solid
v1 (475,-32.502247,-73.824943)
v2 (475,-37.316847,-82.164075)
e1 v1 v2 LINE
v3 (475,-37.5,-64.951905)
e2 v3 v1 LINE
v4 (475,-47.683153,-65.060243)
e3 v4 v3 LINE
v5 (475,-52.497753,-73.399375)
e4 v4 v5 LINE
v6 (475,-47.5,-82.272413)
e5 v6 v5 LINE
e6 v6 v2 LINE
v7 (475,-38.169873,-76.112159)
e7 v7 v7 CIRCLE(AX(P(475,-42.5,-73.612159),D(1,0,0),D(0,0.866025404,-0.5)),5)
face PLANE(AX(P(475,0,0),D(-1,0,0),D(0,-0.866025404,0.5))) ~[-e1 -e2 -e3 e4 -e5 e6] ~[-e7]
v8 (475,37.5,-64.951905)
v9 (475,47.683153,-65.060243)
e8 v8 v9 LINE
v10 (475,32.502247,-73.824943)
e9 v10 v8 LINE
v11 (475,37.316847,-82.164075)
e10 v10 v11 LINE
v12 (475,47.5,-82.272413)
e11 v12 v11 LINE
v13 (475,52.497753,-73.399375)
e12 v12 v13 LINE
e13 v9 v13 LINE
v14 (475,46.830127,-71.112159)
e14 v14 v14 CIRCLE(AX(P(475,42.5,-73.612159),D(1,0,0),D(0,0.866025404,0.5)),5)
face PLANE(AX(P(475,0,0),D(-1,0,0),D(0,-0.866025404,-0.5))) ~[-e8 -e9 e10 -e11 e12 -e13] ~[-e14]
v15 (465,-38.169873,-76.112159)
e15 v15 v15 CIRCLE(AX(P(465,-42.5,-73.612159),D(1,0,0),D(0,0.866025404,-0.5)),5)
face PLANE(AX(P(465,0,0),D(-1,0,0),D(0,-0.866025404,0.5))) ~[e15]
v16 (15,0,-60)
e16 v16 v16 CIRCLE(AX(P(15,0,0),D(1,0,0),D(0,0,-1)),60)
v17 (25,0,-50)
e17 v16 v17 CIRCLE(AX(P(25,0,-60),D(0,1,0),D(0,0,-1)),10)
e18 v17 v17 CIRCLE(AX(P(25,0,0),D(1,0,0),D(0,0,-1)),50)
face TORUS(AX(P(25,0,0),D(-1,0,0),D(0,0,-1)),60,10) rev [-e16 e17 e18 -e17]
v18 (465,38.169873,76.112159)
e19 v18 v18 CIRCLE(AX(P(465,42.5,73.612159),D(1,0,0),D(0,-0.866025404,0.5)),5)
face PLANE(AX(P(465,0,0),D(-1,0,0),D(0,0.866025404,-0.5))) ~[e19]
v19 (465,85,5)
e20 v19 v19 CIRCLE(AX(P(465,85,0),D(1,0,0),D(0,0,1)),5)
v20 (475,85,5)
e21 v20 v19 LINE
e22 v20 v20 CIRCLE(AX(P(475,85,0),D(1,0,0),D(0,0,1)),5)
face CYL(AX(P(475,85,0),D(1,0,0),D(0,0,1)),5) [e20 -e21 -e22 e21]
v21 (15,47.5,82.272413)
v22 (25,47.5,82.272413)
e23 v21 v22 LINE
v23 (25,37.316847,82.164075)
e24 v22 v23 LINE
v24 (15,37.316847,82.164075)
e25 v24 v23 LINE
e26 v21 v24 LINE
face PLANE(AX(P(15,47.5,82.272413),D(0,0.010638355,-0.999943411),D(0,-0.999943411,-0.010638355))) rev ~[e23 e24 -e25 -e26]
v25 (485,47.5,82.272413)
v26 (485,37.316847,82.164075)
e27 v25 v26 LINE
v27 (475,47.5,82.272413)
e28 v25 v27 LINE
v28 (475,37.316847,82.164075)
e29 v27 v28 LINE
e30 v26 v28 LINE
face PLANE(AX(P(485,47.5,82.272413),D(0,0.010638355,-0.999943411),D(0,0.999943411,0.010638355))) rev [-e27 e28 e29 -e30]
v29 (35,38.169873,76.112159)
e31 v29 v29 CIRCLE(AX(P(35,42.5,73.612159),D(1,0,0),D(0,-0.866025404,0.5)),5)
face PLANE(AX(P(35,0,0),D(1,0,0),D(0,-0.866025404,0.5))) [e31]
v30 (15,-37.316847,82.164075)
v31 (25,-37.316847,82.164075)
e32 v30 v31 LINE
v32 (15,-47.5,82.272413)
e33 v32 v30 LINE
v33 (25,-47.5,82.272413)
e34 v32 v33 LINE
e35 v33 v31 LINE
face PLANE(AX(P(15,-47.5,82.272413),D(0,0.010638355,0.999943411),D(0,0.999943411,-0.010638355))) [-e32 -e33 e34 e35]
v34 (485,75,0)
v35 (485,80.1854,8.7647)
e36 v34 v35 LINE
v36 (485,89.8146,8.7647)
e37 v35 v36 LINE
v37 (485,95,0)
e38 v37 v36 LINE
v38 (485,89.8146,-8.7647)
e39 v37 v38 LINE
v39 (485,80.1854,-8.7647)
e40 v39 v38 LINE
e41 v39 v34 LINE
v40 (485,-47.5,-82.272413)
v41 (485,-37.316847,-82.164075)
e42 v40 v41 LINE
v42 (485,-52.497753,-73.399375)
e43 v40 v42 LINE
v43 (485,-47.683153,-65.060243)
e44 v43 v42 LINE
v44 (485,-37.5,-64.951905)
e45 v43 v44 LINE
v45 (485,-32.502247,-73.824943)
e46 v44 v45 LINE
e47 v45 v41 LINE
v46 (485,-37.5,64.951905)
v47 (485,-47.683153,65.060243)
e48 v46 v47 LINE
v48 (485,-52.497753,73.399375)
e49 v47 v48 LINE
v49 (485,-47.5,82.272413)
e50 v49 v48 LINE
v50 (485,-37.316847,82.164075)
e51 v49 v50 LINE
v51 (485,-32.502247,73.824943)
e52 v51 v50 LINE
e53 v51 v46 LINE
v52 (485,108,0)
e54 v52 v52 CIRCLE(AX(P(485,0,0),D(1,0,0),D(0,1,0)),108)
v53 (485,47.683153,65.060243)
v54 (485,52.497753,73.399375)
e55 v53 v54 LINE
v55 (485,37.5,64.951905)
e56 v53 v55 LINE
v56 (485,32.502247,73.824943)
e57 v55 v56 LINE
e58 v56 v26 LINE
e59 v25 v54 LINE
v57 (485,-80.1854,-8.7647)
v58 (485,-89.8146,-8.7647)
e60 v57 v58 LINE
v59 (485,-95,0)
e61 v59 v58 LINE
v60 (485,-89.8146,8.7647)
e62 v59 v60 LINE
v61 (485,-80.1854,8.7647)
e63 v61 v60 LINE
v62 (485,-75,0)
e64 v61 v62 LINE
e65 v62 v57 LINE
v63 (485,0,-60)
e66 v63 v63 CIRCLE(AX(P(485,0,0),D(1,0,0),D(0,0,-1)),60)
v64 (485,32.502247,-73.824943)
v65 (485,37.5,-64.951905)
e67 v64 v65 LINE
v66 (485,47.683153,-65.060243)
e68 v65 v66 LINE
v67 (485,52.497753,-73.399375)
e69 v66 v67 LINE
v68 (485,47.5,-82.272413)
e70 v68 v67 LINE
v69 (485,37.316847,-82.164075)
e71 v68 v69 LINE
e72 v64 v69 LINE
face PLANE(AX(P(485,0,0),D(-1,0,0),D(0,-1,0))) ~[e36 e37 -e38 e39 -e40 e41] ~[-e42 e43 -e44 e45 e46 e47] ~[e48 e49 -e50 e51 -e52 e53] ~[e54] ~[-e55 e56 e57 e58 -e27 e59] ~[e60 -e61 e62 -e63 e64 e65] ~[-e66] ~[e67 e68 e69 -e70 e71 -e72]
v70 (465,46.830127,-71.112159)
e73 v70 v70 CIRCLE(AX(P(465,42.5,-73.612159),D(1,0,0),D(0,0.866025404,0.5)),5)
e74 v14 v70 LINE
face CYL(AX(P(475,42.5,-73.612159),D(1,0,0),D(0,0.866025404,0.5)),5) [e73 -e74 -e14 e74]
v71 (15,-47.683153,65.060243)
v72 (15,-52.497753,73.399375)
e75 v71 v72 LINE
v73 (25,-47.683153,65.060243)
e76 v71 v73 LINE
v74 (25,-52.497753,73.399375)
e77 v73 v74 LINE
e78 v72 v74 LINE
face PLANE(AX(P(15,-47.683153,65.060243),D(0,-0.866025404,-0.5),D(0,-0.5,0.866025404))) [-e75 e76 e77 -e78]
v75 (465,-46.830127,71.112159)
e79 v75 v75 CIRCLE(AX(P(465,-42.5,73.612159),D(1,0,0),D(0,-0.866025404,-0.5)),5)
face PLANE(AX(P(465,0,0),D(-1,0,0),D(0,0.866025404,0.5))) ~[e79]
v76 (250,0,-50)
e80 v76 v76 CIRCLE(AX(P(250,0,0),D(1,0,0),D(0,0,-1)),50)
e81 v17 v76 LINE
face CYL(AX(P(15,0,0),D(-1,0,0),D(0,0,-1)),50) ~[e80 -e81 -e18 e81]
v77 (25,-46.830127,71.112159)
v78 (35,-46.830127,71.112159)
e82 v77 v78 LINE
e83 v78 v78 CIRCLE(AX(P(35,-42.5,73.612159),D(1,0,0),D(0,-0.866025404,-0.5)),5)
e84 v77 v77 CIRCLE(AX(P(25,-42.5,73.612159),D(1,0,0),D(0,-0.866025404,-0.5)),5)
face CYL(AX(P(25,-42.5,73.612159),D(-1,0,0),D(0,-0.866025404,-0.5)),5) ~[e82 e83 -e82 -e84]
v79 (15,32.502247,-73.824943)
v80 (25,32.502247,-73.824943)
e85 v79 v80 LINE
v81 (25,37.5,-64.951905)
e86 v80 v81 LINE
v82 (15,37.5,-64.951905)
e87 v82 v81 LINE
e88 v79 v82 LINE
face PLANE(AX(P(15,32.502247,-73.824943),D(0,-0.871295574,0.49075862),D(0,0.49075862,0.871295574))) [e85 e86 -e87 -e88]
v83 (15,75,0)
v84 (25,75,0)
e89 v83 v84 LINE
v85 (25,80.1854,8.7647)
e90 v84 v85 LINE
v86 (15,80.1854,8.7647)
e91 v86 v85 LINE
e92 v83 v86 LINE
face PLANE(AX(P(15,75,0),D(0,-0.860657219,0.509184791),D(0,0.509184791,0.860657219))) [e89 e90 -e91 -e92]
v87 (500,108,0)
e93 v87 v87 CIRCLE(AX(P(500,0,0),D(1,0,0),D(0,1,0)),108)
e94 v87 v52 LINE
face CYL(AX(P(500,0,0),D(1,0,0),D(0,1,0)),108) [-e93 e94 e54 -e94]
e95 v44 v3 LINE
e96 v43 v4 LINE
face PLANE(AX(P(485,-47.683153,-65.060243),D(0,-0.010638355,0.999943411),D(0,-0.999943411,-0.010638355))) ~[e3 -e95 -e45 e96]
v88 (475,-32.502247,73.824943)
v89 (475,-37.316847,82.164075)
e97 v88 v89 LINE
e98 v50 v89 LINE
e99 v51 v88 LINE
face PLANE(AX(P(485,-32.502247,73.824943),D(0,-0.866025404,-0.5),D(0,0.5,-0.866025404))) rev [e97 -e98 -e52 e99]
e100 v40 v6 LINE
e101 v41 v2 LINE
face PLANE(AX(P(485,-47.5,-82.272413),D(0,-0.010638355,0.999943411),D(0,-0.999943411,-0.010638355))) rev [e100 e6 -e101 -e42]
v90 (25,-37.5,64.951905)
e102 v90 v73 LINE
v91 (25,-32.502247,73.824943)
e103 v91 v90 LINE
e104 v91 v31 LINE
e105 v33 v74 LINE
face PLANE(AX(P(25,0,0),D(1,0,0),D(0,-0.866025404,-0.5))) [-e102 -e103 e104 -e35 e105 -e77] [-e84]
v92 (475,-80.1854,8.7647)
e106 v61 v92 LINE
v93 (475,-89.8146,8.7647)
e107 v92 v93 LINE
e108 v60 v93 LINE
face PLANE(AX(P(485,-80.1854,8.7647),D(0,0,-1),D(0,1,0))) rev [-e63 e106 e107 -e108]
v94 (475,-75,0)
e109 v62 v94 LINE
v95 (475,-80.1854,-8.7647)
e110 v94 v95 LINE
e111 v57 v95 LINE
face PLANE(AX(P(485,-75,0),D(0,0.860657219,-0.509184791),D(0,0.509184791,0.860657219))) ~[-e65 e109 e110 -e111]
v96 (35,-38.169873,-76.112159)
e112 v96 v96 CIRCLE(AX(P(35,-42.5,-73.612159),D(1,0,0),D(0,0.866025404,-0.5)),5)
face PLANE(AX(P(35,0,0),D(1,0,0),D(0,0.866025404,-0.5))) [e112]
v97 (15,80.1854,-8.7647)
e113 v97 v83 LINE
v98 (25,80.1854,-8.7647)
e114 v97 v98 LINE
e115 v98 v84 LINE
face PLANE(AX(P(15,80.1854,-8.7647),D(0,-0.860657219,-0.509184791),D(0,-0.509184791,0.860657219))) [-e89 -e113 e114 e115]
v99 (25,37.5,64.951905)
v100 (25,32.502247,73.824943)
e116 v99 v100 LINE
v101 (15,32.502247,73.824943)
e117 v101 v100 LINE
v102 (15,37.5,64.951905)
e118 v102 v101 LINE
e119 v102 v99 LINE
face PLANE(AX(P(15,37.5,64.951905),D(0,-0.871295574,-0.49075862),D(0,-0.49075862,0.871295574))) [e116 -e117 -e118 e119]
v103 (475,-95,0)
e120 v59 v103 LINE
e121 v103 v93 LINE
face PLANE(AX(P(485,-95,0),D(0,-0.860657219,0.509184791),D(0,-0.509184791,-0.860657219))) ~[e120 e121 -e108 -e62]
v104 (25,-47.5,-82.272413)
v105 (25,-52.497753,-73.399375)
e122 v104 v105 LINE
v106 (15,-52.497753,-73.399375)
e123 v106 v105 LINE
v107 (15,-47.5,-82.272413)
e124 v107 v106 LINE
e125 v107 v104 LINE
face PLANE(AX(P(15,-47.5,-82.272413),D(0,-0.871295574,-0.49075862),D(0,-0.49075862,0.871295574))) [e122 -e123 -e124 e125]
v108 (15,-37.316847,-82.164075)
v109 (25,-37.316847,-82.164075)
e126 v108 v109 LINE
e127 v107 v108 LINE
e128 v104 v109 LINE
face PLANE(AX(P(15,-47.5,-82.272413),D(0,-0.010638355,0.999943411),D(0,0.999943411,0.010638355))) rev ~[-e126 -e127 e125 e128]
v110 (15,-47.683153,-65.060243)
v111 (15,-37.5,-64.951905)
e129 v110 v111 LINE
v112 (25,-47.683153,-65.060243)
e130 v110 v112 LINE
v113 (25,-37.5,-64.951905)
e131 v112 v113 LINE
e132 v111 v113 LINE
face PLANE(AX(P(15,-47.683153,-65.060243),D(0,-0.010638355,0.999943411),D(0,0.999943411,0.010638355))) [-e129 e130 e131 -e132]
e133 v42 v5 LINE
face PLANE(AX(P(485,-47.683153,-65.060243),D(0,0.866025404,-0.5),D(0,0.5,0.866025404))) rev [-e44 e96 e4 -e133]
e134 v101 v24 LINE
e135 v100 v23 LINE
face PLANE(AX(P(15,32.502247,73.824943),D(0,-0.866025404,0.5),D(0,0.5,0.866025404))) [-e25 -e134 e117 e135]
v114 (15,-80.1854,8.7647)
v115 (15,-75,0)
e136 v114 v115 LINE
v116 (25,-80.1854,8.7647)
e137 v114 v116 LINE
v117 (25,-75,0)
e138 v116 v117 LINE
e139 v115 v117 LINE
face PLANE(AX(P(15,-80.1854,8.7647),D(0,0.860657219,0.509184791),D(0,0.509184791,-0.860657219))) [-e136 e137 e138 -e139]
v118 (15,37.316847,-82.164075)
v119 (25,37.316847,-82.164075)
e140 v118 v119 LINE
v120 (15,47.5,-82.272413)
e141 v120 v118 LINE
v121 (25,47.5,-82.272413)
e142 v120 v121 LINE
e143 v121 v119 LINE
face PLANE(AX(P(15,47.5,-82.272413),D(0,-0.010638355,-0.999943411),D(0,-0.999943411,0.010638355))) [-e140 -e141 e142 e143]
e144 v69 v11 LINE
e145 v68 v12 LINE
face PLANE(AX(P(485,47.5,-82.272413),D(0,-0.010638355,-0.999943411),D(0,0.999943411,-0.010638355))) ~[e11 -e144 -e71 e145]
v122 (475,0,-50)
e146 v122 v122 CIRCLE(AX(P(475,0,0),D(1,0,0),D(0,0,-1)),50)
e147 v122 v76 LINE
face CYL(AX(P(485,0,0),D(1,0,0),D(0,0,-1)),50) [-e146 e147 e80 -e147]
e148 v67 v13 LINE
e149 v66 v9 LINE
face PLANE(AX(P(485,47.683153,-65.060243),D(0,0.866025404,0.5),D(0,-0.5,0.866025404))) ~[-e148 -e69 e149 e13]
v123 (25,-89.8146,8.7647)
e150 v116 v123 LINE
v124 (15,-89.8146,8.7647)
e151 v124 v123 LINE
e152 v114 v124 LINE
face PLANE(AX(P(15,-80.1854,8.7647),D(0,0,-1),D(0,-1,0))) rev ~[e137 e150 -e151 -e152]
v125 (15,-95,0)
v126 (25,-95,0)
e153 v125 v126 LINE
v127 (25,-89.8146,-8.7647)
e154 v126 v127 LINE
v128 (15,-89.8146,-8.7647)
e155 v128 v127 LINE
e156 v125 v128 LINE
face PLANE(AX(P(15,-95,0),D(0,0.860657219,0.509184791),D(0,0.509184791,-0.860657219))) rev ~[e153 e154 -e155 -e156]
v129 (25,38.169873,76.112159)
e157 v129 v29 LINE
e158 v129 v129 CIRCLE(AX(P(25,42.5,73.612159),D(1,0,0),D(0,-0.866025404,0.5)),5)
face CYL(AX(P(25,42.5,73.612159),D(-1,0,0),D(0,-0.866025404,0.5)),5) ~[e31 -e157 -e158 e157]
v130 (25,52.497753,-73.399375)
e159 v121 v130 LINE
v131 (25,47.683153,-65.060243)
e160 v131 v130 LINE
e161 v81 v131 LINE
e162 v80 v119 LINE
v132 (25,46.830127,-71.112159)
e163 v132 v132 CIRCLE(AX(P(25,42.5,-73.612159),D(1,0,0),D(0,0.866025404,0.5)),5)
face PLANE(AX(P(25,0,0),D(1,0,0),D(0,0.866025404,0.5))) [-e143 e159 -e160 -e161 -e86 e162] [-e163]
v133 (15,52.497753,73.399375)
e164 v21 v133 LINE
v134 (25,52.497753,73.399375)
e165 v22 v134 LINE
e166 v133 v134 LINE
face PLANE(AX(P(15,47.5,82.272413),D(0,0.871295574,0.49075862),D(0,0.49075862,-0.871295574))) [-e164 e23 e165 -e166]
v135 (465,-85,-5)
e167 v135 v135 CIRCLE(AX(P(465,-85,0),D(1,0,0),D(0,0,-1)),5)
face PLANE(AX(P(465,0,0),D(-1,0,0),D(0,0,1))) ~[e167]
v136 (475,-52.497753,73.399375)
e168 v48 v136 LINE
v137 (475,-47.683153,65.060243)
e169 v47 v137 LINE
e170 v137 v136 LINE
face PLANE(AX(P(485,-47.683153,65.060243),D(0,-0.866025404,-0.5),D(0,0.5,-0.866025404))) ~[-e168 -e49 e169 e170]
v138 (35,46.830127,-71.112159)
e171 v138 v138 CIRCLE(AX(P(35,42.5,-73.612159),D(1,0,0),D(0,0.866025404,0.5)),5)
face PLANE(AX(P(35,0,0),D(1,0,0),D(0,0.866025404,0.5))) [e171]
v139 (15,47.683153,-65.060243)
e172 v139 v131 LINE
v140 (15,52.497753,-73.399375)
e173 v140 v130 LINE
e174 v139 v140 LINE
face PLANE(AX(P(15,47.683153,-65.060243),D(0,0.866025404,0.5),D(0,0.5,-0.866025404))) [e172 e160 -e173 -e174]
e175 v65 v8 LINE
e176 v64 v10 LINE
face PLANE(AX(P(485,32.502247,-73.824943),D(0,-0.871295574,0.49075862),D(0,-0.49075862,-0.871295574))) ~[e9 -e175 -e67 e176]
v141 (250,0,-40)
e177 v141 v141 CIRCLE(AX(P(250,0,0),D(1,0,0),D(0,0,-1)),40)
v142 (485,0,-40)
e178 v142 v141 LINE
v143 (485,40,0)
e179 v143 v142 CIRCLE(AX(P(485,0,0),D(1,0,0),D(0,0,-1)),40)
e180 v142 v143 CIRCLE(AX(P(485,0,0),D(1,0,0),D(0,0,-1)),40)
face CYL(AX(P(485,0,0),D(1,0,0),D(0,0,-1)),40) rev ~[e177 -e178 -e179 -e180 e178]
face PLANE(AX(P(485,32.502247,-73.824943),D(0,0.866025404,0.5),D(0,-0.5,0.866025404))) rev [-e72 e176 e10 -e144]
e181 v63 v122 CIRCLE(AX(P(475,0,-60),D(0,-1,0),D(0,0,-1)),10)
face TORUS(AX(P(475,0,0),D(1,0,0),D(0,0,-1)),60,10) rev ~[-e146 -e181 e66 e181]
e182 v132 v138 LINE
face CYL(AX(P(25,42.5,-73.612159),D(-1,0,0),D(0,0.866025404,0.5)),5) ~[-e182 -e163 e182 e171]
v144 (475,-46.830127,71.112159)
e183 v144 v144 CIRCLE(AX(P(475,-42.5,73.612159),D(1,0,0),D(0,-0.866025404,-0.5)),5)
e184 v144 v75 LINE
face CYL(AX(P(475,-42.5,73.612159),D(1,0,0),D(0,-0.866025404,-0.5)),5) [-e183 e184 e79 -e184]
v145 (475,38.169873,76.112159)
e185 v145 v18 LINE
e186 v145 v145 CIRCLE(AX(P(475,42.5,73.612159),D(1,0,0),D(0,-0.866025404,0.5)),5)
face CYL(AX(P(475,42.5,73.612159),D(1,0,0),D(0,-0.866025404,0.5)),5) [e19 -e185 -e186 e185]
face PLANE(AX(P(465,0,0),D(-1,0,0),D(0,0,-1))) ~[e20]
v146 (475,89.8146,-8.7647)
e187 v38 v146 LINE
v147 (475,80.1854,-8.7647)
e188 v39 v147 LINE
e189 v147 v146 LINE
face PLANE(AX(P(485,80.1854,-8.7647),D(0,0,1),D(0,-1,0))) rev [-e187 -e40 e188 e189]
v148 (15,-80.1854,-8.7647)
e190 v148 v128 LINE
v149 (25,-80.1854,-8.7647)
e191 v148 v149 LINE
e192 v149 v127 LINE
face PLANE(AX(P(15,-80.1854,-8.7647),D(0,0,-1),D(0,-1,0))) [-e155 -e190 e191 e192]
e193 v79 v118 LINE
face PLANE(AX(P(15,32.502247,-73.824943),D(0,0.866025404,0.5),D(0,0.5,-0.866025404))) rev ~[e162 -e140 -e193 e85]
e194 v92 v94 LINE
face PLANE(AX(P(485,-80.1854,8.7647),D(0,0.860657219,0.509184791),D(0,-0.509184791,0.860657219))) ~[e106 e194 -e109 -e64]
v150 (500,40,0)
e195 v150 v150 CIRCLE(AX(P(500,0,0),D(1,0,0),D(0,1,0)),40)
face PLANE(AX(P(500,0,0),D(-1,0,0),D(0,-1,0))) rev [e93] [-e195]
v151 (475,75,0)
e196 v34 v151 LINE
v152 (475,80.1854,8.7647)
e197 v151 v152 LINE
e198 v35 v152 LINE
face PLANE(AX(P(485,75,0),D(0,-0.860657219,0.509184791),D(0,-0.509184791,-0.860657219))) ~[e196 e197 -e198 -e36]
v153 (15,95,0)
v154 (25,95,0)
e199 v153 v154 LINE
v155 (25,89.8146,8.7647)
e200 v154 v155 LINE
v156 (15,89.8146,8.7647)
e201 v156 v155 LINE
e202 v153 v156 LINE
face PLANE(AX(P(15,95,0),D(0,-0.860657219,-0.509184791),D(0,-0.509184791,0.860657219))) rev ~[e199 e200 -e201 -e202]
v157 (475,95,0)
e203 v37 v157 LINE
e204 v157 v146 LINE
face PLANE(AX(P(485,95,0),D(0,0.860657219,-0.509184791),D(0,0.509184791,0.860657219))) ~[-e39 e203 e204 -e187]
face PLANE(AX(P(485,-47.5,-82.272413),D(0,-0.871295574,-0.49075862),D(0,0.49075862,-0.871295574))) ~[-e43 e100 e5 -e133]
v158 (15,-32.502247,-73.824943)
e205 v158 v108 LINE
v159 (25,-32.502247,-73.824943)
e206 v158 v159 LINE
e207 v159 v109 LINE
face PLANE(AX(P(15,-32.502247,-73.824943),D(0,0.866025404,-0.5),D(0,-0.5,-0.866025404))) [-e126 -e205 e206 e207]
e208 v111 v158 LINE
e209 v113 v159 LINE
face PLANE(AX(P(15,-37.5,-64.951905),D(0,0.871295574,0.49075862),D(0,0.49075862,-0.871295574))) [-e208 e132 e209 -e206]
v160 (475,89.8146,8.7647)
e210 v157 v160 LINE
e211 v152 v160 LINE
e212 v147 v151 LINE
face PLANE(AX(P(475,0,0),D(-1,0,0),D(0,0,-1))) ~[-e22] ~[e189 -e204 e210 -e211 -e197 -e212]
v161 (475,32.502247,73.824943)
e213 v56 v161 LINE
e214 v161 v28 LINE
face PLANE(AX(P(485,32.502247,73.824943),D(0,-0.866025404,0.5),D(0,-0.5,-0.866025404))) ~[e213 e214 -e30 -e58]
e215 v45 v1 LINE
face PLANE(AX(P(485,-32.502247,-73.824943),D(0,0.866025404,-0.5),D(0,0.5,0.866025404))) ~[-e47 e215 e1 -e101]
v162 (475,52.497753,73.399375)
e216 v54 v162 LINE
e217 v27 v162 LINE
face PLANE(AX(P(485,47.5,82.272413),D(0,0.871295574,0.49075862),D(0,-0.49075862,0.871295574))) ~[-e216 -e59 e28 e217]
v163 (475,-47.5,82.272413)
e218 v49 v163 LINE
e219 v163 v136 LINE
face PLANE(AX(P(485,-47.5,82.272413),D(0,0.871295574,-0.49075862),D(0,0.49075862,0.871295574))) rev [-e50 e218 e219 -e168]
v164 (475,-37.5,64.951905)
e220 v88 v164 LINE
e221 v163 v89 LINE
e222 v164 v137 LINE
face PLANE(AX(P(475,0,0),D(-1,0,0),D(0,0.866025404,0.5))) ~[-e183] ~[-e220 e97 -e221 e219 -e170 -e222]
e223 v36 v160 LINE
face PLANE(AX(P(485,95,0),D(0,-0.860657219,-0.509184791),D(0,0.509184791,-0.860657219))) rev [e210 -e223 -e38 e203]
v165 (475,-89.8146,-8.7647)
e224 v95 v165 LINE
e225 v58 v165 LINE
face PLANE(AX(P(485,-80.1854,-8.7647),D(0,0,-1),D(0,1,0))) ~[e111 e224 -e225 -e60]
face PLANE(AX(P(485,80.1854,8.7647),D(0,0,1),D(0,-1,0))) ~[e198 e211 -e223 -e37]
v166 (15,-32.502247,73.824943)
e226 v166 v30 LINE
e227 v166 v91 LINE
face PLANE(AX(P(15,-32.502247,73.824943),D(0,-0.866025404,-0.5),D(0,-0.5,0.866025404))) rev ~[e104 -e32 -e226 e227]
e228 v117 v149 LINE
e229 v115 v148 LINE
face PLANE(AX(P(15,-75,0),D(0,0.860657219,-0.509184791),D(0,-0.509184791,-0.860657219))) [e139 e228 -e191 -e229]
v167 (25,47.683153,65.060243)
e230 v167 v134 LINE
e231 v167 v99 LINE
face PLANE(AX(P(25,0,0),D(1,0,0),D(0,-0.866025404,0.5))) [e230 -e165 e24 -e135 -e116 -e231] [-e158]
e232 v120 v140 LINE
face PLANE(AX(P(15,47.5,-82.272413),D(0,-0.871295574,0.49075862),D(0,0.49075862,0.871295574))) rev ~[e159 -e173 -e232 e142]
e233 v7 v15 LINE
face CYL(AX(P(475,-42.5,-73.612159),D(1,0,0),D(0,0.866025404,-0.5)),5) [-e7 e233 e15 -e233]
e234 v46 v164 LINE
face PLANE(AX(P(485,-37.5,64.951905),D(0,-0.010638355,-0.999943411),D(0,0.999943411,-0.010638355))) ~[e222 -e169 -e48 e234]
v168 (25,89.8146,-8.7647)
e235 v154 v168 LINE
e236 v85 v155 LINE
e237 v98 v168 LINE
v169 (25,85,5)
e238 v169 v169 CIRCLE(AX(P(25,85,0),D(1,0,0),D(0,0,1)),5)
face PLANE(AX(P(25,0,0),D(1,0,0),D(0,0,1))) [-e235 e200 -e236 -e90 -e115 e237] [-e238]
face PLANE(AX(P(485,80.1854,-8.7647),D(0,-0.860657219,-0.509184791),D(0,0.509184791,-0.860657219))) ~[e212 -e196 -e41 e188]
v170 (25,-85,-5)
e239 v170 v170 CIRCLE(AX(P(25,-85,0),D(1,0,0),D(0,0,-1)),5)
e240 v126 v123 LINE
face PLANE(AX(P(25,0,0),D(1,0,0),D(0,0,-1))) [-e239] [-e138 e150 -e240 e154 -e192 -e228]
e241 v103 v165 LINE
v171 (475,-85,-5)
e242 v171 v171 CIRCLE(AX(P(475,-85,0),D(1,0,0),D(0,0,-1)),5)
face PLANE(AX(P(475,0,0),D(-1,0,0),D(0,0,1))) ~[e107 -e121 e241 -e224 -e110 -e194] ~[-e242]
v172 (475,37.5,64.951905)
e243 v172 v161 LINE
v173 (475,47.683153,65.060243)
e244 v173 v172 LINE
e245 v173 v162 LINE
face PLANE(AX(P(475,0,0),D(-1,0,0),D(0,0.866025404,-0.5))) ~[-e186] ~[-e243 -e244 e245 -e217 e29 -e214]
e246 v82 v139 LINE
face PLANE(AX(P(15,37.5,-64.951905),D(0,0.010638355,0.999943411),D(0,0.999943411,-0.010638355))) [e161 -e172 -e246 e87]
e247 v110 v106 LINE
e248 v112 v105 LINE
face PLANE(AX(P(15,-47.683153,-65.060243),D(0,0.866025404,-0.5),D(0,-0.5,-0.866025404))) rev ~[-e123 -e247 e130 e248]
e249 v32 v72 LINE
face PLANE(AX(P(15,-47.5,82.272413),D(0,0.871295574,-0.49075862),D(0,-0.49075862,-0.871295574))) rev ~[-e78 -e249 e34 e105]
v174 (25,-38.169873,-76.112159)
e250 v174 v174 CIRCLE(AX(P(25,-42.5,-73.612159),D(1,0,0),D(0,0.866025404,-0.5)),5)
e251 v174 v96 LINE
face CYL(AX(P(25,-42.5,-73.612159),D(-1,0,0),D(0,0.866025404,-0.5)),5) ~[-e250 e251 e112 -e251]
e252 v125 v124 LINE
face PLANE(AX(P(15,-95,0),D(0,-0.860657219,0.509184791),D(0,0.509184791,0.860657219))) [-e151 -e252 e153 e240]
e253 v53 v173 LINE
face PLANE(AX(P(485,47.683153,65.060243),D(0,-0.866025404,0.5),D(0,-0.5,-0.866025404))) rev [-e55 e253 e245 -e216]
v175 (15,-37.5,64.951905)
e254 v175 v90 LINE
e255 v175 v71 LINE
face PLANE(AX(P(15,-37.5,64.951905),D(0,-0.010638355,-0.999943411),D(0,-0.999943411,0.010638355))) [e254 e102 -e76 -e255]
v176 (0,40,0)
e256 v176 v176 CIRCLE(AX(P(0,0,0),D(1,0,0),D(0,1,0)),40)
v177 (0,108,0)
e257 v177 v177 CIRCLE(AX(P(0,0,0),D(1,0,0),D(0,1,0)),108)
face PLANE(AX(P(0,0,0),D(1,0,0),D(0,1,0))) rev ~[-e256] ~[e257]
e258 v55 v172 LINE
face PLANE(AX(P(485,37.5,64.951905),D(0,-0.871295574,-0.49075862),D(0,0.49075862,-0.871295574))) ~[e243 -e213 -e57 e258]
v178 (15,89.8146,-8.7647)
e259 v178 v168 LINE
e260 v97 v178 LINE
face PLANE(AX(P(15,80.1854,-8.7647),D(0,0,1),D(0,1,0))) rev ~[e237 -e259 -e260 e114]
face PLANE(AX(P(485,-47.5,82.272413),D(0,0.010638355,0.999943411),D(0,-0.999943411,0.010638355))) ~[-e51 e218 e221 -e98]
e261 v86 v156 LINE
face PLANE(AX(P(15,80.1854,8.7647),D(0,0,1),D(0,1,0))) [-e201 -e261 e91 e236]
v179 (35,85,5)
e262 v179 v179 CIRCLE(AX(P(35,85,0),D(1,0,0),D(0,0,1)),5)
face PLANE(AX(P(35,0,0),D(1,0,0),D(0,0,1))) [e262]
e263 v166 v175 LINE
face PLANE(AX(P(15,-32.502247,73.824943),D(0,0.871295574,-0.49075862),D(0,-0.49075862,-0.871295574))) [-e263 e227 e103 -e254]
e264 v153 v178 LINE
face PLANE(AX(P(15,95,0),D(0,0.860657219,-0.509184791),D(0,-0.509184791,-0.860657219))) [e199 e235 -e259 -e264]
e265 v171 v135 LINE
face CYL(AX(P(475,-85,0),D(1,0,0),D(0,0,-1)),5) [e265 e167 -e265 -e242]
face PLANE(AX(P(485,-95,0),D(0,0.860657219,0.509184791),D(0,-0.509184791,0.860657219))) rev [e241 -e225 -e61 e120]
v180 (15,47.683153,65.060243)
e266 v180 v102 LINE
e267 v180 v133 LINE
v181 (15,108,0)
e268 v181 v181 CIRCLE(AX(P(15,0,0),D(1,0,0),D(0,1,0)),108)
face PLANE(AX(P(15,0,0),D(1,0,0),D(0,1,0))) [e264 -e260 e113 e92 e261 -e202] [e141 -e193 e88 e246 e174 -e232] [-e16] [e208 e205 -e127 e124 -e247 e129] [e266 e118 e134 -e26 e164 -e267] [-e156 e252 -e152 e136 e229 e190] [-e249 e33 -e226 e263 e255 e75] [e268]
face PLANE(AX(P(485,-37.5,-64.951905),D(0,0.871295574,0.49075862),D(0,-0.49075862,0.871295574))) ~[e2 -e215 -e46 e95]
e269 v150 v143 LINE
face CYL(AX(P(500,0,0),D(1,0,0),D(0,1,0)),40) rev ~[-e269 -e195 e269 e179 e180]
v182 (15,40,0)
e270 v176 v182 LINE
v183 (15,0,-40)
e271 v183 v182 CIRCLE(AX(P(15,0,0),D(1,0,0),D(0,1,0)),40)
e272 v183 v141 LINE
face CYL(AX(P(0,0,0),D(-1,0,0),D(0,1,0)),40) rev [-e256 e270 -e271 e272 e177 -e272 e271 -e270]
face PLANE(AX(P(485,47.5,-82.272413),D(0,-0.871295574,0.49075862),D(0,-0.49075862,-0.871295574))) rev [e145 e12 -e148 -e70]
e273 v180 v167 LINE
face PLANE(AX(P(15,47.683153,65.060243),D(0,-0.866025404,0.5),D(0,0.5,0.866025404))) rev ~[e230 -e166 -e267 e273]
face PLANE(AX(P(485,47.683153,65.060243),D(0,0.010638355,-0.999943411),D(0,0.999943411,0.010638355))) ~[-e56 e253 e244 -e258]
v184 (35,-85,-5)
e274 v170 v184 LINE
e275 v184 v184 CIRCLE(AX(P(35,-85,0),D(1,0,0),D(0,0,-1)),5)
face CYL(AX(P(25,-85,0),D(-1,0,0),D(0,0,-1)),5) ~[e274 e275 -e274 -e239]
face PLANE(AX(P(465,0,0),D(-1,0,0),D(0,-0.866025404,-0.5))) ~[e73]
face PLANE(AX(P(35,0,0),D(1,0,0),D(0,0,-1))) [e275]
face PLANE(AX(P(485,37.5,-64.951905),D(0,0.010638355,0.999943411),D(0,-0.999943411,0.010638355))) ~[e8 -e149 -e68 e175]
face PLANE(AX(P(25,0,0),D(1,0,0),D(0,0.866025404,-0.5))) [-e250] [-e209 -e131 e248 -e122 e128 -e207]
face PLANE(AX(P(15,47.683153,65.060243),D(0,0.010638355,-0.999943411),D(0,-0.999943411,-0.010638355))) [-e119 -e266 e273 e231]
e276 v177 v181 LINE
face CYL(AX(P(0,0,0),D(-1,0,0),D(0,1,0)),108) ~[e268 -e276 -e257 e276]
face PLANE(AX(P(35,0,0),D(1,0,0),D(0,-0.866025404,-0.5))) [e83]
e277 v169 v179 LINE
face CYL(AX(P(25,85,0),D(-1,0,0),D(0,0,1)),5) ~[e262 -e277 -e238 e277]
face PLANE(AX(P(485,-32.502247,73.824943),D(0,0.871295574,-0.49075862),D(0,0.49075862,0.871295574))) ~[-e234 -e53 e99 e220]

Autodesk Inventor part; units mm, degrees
ref_plane "YZ Plane" through (0, 0, 0) normal (1, 0, 0) x (0, 1, 0)
ref_plane "XZ Plane" through (0, 0, 0) normal (0, 1, 0) x (-1, 0, 0)
ref_plane "XY Plane" through (0, 0, 0) normal (0, 0, 1) x (1, 0, 0)
sketch "Skizze1" plane through (0, 0, 0) normal (1, 0, 0) x (0, 1, 0)
  circle A0 centre (0, 0) radius 40
  circle A1 centre (0, 0) radius 108
  dimension "d0" = 216
  dimension "d1" = 80
extrude "Extrusion1" add sketch "Skizze1" along normal blind 15
sketch "Skizze2" plane through (15, 0, 0) normal (1, 0, 0) x (0, 0, -1)
  circle A0 centre (0, 0) radius 40
  circle A1 centre (0, 0) radius 50
  dimension "d4" = 100
extrude "Extrusion2" add sketch "Skizze2" along normal blind 235
fillet "Rundung1" radius 10 1 edges at (15, 0, 50)
sketch "Skizze3" plane through (15, 0, 0) normal (1, 0, 0) x (0, 0, -1)
  circle A0 centre (0, -85) radius 10 construction
  line L0 (0, -95) -> (-8.7647, -89.8146)
  line L1 (-8.7647, -80.1854) -> (0, -75)
  line L2 (0, -75) -> (8.7647, -80.1854)
  line L3 (8.7647, -80.1854) -> (8.7647, -89.8146)
  line L4 (0, -95) -> (8.7647, -89.8146)
  line L5 (-8.7647, -80.1854) -> (-8.7647, -89.8146)
  point P0 (0, 0)
  dimension "d8" = 20
  dimension "d9" = 85
extrude "Extrusion3" add sketch "Skizze3" along normal blind 10
sketch "Skizze4" plane through (25, 0, 0) normal (1, 0, 0) x (0, 0, -1)
  circle A0 centre (0, -85) radius 5
  point P0 (0, 0)
  dimension "d12" = 10
extrude "Extrusion4" add sketch "Skizze4" along normal blind 10
pattern_circular "Runde Anordnung1" count 6 over 360 about axis through (-10, 0, 0) along (1, 0, 0) of "Extrusion3", "Extrusion4"
mirror "Spiegeln1" about plane through (250, 0, 0) normal (1, 0, 0) of "Extrusion3", "Extrusion4", "Runde Anordnung1", "Extrusion2", "Extrusion1", "Rundung1"
properties part number "DN80-05m"
